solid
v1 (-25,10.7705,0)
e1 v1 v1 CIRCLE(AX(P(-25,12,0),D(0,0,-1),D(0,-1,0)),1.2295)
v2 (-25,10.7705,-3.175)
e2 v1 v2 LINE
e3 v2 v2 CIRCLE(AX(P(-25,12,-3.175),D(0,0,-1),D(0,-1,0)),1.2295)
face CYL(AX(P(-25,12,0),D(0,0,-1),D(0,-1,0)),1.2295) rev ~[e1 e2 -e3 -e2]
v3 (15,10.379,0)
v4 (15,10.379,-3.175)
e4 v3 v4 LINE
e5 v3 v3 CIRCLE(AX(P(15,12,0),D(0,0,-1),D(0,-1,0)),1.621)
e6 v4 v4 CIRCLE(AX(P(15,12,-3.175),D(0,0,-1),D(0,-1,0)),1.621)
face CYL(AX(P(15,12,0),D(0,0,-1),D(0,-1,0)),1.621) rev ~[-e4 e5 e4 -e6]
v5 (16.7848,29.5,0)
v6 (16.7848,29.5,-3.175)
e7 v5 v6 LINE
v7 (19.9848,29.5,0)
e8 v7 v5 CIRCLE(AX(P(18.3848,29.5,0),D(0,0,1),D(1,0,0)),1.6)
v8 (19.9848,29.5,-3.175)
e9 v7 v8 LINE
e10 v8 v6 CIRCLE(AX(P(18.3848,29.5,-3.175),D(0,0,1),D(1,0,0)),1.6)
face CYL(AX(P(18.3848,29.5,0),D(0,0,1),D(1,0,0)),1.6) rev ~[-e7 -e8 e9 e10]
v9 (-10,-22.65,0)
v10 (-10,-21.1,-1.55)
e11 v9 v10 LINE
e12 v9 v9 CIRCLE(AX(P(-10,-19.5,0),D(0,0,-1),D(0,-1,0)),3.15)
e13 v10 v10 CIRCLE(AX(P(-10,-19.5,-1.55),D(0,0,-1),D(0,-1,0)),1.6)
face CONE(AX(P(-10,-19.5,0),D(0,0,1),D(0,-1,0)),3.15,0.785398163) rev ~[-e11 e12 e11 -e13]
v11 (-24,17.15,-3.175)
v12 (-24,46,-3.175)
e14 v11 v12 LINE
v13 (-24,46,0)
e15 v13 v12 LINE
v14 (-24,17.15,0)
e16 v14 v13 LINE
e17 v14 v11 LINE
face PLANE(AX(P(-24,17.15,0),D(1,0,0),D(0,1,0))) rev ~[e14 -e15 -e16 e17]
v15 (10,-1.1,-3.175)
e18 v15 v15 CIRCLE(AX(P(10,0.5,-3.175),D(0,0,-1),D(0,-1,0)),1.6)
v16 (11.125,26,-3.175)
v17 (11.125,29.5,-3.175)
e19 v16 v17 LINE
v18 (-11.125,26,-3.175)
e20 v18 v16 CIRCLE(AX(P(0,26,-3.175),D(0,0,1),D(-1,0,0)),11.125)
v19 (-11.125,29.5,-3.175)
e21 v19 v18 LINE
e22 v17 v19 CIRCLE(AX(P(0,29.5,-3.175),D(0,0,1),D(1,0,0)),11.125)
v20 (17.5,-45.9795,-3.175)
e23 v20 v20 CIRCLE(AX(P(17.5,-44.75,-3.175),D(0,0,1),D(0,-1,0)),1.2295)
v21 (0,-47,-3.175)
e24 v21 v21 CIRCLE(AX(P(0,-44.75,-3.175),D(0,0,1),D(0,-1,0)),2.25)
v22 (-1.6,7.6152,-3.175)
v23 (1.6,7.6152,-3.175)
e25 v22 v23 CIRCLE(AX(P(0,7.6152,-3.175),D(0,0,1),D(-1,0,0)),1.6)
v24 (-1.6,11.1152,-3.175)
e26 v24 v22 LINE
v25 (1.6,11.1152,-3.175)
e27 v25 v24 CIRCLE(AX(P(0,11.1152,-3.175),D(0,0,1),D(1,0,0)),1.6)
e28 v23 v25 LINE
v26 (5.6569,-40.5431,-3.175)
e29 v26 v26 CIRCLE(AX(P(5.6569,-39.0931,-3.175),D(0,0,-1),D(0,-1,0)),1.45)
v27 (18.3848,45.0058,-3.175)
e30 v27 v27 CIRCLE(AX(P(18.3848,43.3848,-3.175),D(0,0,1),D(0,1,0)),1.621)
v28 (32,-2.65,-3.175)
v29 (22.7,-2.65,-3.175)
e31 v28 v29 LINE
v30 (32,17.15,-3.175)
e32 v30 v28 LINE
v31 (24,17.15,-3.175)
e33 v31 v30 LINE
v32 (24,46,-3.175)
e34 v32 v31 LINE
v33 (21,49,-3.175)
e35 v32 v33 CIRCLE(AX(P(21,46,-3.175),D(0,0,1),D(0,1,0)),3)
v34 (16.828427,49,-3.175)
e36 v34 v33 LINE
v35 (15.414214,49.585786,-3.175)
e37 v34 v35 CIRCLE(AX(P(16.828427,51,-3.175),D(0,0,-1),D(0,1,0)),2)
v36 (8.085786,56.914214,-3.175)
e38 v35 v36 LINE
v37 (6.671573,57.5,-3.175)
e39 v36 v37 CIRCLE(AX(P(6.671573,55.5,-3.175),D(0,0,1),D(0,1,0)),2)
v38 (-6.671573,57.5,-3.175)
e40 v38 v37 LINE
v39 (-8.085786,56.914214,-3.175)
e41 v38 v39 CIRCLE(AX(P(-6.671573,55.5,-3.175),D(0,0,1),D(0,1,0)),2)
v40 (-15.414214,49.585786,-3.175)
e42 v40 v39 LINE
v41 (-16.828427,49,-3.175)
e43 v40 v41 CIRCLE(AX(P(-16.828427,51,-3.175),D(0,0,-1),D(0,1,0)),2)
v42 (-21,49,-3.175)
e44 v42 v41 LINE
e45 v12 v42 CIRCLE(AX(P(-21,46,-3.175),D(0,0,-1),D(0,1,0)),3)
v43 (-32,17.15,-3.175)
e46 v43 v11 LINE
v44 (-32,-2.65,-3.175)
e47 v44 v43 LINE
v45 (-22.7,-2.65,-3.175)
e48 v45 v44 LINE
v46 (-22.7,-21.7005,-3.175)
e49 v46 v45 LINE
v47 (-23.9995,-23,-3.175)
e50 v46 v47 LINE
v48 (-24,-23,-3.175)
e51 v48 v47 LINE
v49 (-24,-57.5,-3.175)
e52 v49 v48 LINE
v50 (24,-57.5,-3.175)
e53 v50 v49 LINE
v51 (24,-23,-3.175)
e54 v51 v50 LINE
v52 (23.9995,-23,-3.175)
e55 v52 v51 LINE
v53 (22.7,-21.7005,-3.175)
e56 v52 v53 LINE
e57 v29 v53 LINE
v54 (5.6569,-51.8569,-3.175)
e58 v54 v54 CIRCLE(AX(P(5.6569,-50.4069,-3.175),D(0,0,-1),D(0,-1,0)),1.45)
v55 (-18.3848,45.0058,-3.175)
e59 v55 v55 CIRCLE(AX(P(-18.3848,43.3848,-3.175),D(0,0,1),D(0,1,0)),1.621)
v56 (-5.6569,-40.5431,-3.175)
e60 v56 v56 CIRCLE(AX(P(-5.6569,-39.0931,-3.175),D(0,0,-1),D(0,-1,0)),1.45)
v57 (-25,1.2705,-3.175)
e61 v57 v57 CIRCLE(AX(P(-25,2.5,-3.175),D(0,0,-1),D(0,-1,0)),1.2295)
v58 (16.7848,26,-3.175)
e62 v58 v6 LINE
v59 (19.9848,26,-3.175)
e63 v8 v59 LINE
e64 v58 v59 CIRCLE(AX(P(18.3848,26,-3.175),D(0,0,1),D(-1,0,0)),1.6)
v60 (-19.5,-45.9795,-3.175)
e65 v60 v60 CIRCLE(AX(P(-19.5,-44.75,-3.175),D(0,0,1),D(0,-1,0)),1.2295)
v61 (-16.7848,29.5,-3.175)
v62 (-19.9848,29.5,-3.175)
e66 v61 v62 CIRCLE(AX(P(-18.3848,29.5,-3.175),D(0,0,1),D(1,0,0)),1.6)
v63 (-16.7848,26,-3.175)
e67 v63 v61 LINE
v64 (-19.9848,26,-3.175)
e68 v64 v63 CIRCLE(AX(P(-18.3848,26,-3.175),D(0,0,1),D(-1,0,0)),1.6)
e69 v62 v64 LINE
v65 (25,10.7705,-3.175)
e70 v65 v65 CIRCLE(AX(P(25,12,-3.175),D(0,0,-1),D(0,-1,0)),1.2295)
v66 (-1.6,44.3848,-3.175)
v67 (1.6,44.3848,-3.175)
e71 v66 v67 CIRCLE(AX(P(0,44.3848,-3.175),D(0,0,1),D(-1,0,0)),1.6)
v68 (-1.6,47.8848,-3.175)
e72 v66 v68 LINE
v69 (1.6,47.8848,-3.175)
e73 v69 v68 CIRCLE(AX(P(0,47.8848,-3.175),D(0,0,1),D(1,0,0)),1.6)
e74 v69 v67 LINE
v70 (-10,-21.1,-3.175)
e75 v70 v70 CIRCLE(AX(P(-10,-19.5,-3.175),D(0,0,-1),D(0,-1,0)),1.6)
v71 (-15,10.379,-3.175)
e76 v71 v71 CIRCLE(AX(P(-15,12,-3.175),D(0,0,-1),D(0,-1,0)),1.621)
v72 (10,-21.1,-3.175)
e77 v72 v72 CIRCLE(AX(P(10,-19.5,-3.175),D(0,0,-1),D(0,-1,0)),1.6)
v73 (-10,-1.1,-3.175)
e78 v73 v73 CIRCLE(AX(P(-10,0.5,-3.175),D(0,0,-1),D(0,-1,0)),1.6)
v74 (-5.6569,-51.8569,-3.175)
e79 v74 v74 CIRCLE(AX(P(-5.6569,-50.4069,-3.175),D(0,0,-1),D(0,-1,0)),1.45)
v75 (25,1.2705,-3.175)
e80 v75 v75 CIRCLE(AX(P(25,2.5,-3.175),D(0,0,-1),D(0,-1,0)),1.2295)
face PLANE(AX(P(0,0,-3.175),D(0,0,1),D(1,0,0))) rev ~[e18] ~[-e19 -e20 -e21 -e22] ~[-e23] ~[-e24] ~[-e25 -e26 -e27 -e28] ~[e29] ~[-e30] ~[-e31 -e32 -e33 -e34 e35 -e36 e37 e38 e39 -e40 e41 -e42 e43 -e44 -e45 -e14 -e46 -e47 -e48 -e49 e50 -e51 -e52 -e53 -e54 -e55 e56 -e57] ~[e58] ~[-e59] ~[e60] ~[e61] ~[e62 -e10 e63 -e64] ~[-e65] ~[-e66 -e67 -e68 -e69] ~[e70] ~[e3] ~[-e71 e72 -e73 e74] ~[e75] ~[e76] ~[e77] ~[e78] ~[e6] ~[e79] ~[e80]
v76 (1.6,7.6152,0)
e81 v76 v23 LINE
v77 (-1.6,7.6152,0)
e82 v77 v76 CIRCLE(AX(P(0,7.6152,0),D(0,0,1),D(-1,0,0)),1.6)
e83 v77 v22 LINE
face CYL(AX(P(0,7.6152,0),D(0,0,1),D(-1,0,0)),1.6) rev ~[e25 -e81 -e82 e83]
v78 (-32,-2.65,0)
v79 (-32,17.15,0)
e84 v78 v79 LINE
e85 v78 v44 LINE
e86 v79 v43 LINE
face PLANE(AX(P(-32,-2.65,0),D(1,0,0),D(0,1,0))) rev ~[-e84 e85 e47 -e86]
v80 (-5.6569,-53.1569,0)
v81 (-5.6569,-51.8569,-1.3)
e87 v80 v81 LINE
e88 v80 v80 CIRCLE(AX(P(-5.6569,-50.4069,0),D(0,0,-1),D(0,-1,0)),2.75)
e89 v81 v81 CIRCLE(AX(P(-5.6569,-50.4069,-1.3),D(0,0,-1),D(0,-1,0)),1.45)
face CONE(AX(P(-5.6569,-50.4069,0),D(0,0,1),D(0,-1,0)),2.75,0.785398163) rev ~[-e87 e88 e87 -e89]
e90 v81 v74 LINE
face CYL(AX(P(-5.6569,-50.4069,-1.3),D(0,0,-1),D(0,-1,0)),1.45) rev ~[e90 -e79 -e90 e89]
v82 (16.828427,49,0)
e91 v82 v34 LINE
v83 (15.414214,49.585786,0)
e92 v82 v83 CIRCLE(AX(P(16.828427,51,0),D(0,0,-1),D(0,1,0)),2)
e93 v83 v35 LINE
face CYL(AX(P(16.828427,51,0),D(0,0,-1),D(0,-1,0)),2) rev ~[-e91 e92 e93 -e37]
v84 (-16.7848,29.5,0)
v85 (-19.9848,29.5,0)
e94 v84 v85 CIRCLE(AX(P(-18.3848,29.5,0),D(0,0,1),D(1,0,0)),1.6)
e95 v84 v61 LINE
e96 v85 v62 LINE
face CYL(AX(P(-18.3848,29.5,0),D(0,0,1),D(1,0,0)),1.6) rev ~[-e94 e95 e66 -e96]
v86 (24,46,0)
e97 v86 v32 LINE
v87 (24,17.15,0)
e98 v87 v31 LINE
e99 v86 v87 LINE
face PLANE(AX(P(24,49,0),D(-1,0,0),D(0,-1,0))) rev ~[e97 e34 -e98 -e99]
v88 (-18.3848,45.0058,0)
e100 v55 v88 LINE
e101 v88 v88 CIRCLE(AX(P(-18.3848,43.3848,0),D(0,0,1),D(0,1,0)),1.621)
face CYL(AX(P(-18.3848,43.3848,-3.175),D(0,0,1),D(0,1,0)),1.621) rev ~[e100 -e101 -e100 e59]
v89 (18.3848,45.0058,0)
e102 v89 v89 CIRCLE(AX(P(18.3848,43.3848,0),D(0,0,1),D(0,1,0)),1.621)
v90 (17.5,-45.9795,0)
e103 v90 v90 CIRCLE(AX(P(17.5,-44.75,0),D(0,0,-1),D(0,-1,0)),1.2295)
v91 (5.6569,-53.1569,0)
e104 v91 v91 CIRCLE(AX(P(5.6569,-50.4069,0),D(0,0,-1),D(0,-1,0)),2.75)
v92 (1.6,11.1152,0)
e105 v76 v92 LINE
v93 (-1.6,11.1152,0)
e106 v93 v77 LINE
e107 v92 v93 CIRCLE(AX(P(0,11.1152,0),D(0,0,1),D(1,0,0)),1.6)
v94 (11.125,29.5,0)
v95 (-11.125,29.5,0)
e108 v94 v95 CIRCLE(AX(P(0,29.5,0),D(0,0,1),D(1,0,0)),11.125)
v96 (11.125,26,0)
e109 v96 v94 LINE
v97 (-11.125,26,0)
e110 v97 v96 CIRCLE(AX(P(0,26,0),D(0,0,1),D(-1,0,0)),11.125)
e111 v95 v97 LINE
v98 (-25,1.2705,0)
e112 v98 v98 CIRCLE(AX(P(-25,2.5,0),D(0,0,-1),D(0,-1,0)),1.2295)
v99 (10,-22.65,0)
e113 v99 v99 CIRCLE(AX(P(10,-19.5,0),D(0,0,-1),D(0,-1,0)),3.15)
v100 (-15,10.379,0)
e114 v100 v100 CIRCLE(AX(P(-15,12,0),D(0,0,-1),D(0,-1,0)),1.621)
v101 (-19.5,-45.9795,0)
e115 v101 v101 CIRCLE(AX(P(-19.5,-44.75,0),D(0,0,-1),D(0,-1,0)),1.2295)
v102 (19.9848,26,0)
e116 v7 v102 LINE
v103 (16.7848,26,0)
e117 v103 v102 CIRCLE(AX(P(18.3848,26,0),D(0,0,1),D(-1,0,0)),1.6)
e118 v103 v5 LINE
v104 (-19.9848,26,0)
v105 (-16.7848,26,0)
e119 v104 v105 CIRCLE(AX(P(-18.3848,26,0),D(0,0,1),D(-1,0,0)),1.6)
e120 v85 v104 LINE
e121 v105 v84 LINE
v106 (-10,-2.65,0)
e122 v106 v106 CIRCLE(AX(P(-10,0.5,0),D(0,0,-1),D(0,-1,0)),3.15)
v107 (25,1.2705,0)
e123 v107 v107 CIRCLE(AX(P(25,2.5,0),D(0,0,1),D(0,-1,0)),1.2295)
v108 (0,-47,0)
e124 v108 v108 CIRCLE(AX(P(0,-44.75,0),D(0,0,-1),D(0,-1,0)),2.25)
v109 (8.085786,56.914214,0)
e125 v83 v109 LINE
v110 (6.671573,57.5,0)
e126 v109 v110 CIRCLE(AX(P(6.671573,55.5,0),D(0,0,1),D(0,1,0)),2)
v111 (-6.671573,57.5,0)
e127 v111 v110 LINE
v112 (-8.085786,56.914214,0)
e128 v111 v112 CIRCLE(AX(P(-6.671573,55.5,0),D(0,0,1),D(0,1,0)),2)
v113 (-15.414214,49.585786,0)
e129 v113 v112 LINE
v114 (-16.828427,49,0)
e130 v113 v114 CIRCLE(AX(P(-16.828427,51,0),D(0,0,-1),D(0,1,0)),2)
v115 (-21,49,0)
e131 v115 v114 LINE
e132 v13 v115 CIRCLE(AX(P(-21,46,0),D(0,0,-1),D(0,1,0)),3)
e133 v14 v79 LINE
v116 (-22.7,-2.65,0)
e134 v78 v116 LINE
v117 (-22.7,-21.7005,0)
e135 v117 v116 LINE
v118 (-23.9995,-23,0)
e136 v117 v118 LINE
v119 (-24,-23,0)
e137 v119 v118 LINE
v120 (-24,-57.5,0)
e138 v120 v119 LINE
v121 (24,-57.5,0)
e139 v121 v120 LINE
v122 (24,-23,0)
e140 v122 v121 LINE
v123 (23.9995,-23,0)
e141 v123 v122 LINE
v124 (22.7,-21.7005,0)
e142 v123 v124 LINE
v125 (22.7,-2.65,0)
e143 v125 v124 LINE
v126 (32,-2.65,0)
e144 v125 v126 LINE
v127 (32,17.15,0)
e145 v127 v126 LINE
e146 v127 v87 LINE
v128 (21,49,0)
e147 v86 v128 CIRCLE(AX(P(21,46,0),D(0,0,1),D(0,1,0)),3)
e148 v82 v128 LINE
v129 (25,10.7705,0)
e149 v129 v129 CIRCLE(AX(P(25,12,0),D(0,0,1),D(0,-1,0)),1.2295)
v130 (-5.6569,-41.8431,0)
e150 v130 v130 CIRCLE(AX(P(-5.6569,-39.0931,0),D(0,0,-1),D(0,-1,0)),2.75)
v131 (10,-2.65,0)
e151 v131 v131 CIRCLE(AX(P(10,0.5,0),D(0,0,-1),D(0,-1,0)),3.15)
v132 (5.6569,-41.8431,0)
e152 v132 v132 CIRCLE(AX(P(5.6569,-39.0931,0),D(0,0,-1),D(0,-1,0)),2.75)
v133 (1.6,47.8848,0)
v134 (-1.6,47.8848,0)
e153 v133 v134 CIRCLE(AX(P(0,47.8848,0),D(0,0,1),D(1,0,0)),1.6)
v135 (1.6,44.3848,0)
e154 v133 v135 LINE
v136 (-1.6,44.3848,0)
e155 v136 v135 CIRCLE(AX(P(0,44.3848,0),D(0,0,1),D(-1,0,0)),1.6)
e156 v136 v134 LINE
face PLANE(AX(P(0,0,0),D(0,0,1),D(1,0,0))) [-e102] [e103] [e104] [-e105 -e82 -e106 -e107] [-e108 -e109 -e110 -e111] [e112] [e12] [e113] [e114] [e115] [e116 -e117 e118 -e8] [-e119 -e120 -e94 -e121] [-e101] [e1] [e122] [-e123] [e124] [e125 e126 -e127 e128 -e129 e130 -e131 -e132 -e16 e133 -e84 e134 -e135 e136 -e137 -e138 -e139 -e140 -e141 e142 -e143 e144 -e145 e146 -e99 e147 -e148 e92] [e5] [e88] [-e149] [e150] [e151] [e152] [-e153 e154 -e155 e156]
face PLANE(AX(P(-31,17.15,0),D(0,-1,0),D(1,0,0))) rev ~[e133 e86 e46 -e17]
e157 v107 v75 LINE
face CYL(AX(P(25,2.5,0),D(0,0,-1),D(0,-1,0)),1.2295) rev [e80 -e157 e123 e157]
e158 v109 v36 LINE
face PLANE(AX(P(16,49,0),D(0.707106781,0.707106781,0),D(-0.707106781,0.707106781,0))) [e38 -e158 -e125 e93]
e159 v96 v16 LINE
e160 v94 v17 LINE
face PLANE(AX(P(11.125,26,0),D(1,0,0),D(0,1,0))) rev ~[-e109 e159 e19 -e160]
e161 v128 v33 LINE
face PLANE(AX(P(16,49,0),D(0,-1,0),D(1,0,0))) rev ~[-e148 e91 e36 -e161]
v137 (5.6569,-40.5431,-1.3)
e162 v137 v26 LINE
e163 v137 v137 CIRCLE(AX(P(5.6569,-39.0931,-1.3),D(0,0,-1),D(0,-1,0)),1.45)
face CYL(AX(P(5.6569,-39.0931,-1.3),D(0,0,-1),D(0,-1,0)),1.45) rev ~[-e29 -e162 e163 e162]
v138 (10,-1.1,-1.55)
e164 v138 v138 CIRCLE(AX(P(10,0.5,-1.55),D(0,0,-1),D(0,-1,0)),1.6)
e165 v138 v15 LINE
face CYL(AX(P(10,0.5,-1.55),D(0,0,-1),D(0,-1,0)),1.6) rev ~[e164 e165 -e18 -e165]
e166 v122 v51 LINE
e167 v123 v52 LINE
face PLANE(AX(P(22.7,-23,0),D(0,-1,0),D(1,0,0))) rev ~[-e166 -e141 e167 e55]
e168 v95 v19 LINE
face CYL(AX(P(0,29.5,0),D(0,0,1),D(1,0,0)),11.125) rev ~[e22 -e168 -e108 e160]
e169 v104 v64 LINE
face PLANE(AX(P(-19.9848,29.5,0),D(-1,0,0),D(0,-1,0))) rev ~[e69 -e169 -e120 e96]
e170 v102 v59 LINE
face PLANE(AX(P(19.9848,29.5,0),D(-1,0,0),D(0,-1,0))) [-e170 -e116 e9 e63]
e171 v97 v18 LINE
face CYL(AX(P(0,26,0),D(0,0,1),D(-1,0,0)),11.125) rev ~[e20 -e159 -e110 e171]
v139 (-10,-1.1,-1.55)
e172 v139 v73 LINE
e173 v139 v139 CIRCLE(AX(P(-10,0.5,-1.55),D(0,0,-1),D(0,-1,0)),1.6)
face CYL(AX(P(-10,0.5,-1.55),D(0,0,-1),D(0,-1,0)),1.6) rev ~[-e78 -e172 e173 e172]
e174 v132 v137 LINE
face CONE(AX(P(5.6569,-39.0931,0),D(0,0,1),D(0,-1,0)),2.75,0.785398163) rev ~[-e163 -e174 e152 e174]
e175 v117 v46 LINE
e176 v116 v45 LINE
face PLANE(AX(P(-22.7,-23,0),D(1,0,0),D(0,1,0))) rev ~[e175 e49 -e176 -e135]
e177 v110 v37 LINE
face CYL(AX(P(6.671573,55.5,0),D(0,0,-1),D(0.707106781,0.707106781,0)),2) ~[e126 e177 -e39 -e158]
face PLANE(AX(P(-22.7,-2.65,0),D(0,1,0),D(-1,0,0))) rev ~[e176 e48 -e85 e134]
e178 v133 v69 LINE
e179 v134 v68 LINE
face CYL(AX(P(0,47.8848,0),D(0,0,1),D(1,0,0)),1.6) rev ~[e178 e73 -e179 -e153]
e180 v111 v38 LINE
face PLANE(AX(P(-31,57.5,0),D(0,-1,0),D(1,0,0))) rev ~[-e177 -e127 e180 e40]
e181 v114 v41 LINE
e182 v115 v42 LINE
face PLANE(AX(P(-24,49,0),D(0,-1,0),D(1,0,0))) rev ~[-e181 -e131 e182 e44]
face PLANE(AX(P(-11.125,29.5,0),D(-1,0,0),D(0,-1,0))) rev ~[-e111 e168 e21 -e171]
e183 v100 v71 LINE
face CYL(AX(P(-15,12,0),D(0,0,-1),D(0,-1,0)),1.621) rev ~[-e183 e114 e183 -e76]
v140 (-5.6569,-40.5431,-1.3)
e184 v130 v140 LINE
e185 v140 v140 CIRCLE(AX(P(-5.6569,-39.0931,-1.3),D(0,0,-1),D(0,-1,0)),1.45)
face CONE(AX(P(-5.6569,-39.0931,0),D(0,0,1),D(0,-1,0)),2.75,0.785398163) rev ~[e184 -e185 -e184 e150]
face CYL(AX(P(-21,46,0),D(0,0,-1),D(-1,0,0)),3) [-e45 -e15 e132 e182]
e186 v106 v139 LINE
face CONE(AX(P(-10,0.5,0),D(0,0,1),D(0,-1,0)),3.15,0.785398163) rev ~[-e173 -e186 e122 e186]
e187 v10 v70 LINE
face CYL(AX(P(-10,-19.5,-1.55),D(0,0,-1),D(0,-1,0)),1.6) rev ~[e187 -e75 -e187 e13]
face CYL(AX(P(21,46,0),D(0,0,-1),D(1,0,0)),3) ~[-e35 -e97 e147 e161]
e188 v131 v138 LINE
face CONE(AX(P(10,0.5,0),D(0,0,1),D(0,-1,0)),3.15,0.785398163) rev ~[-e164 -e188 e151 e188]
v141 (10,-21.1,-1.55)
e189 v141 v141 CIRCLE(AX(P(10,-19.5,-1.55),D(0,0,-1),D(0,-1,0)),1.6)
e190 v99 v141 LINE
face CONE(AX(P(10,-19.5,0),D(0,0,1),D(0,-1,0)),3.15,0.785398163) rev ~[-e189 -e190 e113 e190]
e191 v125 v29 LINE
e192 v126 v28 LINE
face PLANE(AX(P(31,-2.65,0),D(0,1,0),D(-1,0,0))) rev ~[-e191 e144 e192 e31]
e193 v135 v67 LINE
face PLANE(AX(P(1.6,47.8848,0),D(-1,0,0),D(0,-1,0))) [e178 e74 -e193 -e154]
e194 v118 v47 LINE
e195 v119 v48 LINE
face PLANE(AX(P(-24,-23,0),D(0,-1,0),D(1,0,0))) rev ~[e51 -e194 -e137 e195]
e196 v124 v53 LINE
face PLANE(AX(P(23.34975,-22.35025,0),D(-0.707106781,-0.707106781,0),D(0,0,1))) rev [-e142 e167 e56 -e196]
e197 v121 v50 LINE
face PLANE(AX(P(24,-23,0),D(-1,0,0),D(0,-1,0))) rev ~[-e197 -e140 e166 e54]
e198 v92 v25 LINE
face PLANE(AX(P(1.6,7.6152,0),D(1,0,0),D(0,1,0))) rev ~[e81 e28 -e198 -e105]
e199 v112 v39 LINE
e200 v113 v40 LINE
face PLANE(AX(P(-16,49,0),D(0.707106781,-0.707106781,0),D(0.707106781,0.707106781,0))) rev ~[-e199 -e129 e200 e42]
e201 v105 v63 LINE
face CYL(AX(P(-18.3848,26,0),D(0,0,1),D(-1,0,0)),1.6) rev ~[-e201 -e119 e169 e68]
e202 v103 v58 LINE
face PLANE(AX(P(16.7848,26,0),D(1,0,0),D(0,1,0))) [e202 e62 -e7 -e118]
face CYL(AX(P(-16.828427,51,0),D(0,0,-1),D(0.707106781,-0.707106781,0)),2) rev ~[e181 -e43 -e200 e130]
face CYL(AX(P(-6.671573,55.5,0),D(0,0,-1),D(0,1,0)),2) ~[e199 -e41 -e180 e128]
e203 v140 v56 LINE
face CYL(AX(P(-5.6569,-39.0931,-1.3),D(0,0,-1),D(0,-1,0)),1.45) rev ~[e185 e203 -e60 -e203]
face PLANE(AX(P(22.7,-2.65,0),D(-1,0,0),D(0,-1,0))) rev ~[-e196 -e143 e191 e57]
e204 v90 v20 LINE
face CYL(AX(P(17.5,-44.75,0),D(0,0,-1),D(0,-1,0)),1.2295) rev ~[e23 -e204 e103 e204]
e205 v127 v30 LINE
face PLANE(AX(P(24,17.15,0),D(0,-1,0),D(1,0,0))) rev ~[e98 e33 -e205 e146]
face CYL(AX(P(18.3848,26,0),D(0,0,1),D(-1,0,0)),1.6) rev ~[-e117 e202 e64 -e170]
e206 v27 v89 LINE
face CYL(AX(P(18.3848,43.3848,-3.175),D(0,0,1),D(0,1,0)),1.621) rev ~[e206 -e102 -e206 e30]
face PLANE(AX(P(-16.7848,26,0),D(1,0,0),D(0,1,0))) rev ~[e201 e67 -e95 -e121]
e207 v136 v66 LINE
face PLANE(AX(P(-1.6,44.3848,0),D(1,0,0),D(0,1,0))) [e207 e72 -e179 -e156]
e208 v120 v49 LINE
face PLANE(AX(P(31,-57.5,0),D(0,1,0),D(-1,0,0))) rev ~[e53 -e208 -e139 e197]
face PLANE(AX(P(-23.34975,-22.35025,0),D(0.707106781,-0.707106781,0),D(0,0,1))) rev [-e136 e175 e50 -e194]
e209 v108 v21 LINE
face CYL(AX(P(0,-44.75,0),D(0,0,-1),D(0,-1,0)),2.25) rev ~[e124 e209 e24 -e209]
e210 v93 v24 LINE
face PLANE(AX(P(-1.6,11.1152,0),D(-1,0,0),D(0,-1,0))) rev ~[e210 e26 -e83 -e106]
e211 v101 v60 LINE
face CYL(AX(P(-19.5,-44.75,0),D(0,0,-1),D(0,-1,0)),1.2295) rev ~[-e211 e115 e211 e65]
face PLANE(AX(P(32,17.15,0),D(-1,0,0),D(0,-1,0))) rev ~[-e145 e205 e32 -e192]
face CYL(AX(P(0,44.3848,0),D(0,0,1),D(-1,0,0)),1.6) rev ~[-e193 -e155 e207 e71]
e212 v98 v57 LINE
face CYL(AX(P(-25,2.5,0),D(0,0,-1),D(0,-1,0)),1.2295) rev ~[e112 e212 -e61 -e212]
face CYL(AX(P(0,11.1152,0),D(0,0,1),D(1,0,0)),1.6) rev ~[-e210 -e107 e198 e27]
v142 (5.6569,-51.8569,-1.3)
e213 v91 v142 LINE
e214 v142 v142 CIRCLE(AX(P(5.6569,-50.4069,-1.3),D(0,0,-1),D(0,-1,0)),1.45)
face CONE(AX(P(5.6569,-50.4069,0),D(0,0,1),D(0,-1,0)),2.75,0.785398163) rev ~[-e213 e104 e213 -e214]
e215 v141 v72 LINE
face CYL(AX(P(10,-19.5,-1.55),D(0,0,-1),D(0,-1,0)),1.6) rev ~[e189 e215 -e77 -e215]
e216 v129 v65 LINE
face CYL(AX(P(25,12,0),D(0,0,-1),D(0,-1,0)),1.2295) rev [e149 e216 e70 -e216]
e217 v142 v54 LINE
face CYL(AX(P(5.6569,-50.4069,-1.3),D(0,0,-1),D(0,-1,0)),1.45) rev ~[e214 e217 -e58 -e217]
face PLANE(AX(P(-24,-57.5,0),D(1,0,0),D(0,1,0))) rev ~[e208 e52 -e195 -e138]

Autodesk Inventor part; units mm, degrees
ref_plane "YZ Plane" through (0, 0, 0) normal (1, 0, 0) x (0, 1, 0)
ref_plane "XZ Plane" through (0, 0, 0) normal (0, 1, 0) x (-1, 0, 0)
ref_plane "XY Plane" through (0, 0, 0) normal (0, 0, 1) x (1, 0, 0)
sketch "Sketch1" plane through (0, 0, 0) normal (0, 0, 1) x (1, 0, 0)
  line L0 (31, -57.5) -> (-31, -57.5)
  line L1 (-31, -57.5) -> (-31, 57.5)
  line L2 (-31, 57.5) -> (31, 57.5)
  line L3 (31, 57.5) -> (31, -57.5)
  line L4 (31, -57.5) -> (-31, 57.5) construction
  line L5 (-31, -57.5) -> (31, 57.5) construction
  line L6 (-93.6831, -20.5) -> (93.6831, -20.5) construction
  line L7 (93.6831, -20.5) -> (93.6831, 1.5) construction
  line L8 (93.6831, 1.5) -> (-93.6831, 1.5) construction
  line L9 (-93.6831, 1.5) -> (-93.6831, -20.5) construction
  line L10 (-93.6831, -20.5) -> (93.6831, 1.5) construction
  line L11 (93.6831, -20.5) -> (-93.6831, 1.5) construction
  line L12 (22.7, -23) -> (-22.7, -23)
  line L13 (-22.7, -23) -> (-22.7, 4)
  line L14 (-22.7, 4) -> (22.7, 4)
  line L15 (22.7, 4) -> (22.7, -23)
  line L16 (22.7, -23) -> (-22.7, 4) construction
  line L17 (-22.7, -23) -> (22.7, 4) construction
  line L18 (-19.5, -44.75) -> (17.5, -44.75)
  circle A0 centre (0, -44.75) radius 8 construction
  line L19 (5.6569, -39.0931) -> (-5.6569, -39.0931) construction
  line L20 (-5.6569, -39.0931) -> (-5.6569, -50.4069) construction
  line L21 (-5.6569, -50.4069) -> (5.6569, -50.4069) construction
  line L22 (5.6569, -50.4069) -> (5.6569, -39.0931) construction
  line L23 (5.6569, -39.0931) -> (-5.6569, -50.4069) construction
  line L24 (-5.6569, -39.0931) -> (5.6569, -50.4069) construction
  line L25 (10, 0.5) -> (-10, 0.5)
  line L26 (-10, 0.5) -> (-10, -19.5)
  line L27 (-10, -19.5) -> (10, -19.5)
  line L28 (10, -19.5) -> (10, 0.5)
  line L29 (10, 0.5) -> (-10, -19.5) construction
  line L30 (-10, 0.5) -> (10, -19.5) construction
  point P0 (0, 0)
  point P1 (0, -9.5)
  point P2 (0, 0)
  point P3 (0, -9.5)
  point P4 (0, 0)
  dimension "d25" = 16
  dimension "d0" = 62
  dimension "d1" = 22
  dimension "d2" = 27
  dimension "d3" = 45.4
  dimension "d5" = 115
  dimension "d8" = 37
  dimension "d9" = 19.5
  dimension "d10" = 12.75
  dimension "d47" = 48
  dimension "d75" = 20
  dimension "d76" = 20
extrude "Extrusion1" add sketch "Sketch1" against normal blind 3.175 contours L0 L1 L2 L3 | L12 L13 L14 L15 | L28 L27 L26 L25
hole "Hole1" at (-19.5, -44.75, 0) at (17.5, -44.75, 0) direction (0, 0, -1) diameter 2.459 end through all thread size "M3x0.5" class "6H" standard "ANSI Metric M Profile"
hole "Hole2" at (0, -44.75, 0) direction (0, 0, -1) diameter 4.5 end through all
hole "Hole3" at (-5.6569, -50.4069, 0) at (5.6569, -50.4069, 0) at (-5.6569, -39.0931, 0) at (5.6569, -39.0931, 0) direction (0, 0, -1) diameter 2.9 end through all countersink diameter 5.5 countersink angle 90 clearance for "Flat Head Machine Screw" size "M2.5" standard "Ansi Metric M Profile"
sketch "Sketch2" plane through (0, 0, 0) normal (0, 0, 1) x (1, 0, 0)
  line L0 (21.9203, 28.8) -> (0, 6.8797) construction
  line L1 (0, 6.8797) -> (-21.9203, 28.8) construction
  line L2 (-21.9203, 28.8) -> (0, 50.7203) construction
  line L3 (0, 50.7203) -> (21.9203, 28.8) construction
  line L4 (21.9203, 28.8) -> (-21.9203, 28.8) construction
  line L5 (0, 6.8797) -> (0, 50.7203) construction
  line L6 (0, 28.8) -> (0, 31.8) construction
  line L7 (11.25, 28.8) -> (11.25, 31.8)
  line L8 (-11.25, 31.8) -> (-11.25, 28.8)
  arc A0 (-11.25, 28.8) -> (11.25, 28.8) centre (0, 28.8) ccw
  arc A1 (11.25, 31.8) -> (-11.25, 31.8) centre (0, 31.8) ccw
  line L9 (-21.9203, 28.8) -> (-21.9203, 31.8) construction
  line L10 (-20.2203, 28.8) -> (-20.2203, 31.8)
  line L11 (-23.6203, 31.8) -> (-23.6203, 28.8)
  arc A2 (-23.6203, 28.8) -> (-20.2203, 28.8) centre (-21.9203, 28.8) ccw
  arc A3 (-20.2203, 31.8) -> (-23.6203, 31.8) centre (-21.9203, 31.8) ccw
  line L12 (0, 6.8797) -> (0, 9.8797) construction
  line L13 (1.7, 6.8797) -> (1.7, 9.8797)
  line L14 (-1.7, 9.8797) -> (-1.7, 6.8797)
  arc A4 (-1.7, 6.8797) -> (1.7, 6.8797) centre (0, 6.8797) ccw
  arc A5 (1.7, 9.8797) -> (-1.7, 9.8797) centre (0, 9.8797) ccw
  line L15 (0, 50.7203) -> (0, 53.7203) construction
  line L16 (-1.7, 50.7203) -> (-1.7, 53.7203)
  line L17 (1.7, 53.7203) -> (1.7, 50.7203)
  arc A6 (-1.7, 50.7203) -> (1.7, 50.7203) centre (0, 50.7203) ccw
  arc A7 (1.7, 53.7203) -> (-1.7, 53.7203) centre (0, 53.7203) ccw
  circle A8 centre (-20, 13.3) radius 6.5 construction
  circle A9 centre (0, 6.8797) radius 3.5 construction
  circle A10 centre (20, 13.3) radius 6.5 construction
  line L18 (-20, 13.3) -> (20, 13.3) construction
  circle A11 centre (0, 30.3) radius 6.11 construction
  circle A12 centre (0, 30.3) radius 6.74 construction
  line L19 (-37.8272, 6.8) -> (-20, 6.8) construction
  line L20 (-13.8669, 11.147) -> (-6.3595, 32.5325) construction
  line L21 (6.3595, 32.5325) -> (13.8669, 11.147) construction
  line L22 (20, 6.8) -> (34.7774, 6.8) construction
  line L23 (21.9203, 28.8) -> (21.9203, 31.8) construction
  line L24 (23.6203, 28.8) -> (23.6203, 31.8)
  line L25 (20.2203, 31.8) -> (20.2203, 28.8)
  arc A13 (20.2203, 28.8) -> (23.6203, 28.8) centre (21.9203, 28.8) ccw
  arc A14 (23.6203, 31.8) -> (20.2203, 31.8) centre (21.9203, 31.8) ccw
  line L26 (29.6985, 28.8) -> (0, -0.8985) construction
  line L27 (0, -0.8985) -> (-29.6985, 28.8) construction
  line L28 (-29.6985, 28.8) -> (0, 58.4985) construction
  line L29 (0, 58.4985) -> (29.6985, 28.8) construction
  line L30 (29.6985, 28.8) -> (-29.6985, 28.8) construction
  line L31 (0, -0.8985) -> (0, 58.4985) construction
  circle A15 centre (-20, 13.3) radius 4 construction
  line L32 (93.6831, 1.5) -> (-93.6831, 1.5) construction
  point P0 (0, 0)
  point P1 (0, 28.8)
  point P2 (-21.9203, 30.3)
  point P3 (0, 8.3797)
  point P4 (0, 52.2203)
  point P5 (0, 13.3)
  point P6 (21.9203, 30.3)
  point P7 (0, -9.5)
  dimension "d33" = 31
  dimension "d34" = 31
  dimension "d35" = 22.5
  dimension "d36" = 1.7
  dimension "d37" = 3
  dimension "d38" = 13
  dimension "d39" = 7
  dimension "d40" = 12.22
  dimension "d41" = 0.63
  dimension "d42" = 42
  dimension "d43" = 8
  dimension "d45" = 40
  dimension "d52" = 17
  dimension "d86" = 5.3
extrude "Extrusion2" [suppressed]
sketch "Sketch3" plane through (0, 0, 0) normal (0, 0, 1) x (1, 0, 0)
  line L0 (0, 50.8902) -> (24.8902, 26) construction
  line L1 (24.8902, 26) -> (0, 1.1098) construction
  line L2 (0, 1.1098) -> (-24.8902, 26) construction
  line L3 (-24.8902, 26) -> (0, 50.8902) construction
  line L4 (0, 50.8902) -> (0, 1.1098) construction
  line L5 (24.8902, 26) -> (-24.8902, 26) construction
  line L6 (0, 7.6152) -> (18.3848, 26) construction
  line L7 (18.3848, 26) -> (0, 44.3848) construction
  line L8 (0, 44.3848) -> (-18.3848, 26) construction
  line L9 (-18.3848, 26) -> (0, 7.6152) construction
  line L10 (0, 7.6152) -> (0, 44.3848) construction
  line L11 (18.3848, 26) -> (-18.3848, 26) construction
  line L12 (-18.3848, 26) -> (-18.3848, 29.5) construction
  line L13 (-16.7848, 26) -> (-16.7848, 29.5)
  line L14 (-19.9848, 29.5) -> (-19.9848, 26)
  arc A0 (-19.9848, 26) -> (-16.7848, 26) centre (-18.3848, 26) ccw
  arc A1 (-16.7848, 29.5) -> (-19.9848, 29.5) centre (-18.3848, 29.5) ccw
  line L15 (0, 44.3848) -> (0, 47.8848) construction
  line L16 (-1.6, 44.3848) -> (-1.6, 47.8848)
  line L17 (1.6, 47.8848) -> (1.6, 44.3848)
  arc A2 (-1.6, 44.3848) -> (1.6, 44.3848) centre (0, 44.3848) ccw
  arc A3 (1.6, 47.8848) -> (-1.6, 47.8848) centre (0, 47.8848) ccw
  line L18 (18.3848, 26) -> (18.3848, 29.5) construction
  line L19 (16.7848, 26) -> (16.7848, 29.5)
  line L20 (19.9848, 29.5) -> (19.9848, 26)
  arc A4 (16.7848, 26) -> (19.9848, 26) centre (18.3848, 26) ccw
  arc A5 (19.9848, 29.5) -> (16.7848, 29.5) centre (18.3848, 29.5) ccw
  line L21 (0, 7.6152) -> (0, 11.1152) construction
  line L22 (1.6, 7.6152) -> (1.6, 11.1152)
  line L23 (-1.6, 11.1152) -> (-1.6, 7.6152)
  arc A6 (-1.6, 7.6152) -> (1.6, 7.6152) centre (0, 7.6152) ccw
  arc A7 (1.6, 11.1152) -> (-1.6, 11.1152) centre (0, 11.1152) ccw
  line L24 (0, 26) -> (0, 29.5) construction
  line L25 (11.125, 26) -> (11.125, 29.5)
  line L26 (-11.125, 29.5) -> (-11.125, 26)
  arc A8 (-11.125, 26) -> (11.125, 26) centre (0, 26) ccw
  arc A9 (11.125, 29.5) -> (-11.125, 29.5) centre (0, 29.5) ccw
  circle A10 centre (0, 7.6152) radius 3.5 construction
  circle A11 centre (-15, 12) radius 6.5 construction
  circle A12 centre (15, 12) radius 6.5 construction
  line L27 (-15, 12) -> (15, 12) construction
  line L28 (93.6831, 1.5) -> (-93.6831, 1.5) construction
  circle A13 centre (0, 26) radius 6.11 construction
  circle A14 centre (0, 26) radius 6.74 construction
  line L29 (-8.5456, 11.2317) -> (-6.6927, 26.7967) construction
  line L30 (6.6927, 26.7967) -> (8.5456, 11.2317) construction
  line L31 (15, 5.5) -> (52.2336, 5.5) construction
  line L32 (-15, 5.5) -> (-44.4503, 5.5) construction
  circle A15 centre (-15, 12) radius 2 construction
  point P0 (0, 0)
  point P1 (-18.3848, 27.75)
  point P2 (0, 46.1348)
  point P3 (18.3848, 27.75)
  point P4 (0, 9.3652)
  point P5 (0, 27.75)
  point P6 (0, 12)
  dimension "d92" = 2.9
  dimension "d53" = 35.2
  dimension "d54" = 26
  dimension "d55" = 22.25
  dimension "d56" = 3.5
  dimension "d57" = 1.6
  dimension "d58" = 7
  dimension "d59" = 13
  dimension "d60" = 4
  dimension "d61" = 30
  dimension "d62" = 12.22
  dimension "d63" = 0.63
  dimension "d64" = 14
  dimension "d65" = 4
extrude "Extrusion3" cut sketch "Sketch3" against normal through all
hole "Hole4" at (-15, 12, 0) at (15, 12, 0) direction (0, 0, -1) diameter 3.242 end through all thread size "M4x0.7" class "6H" standard "ANSI Metric M Profile"
hole "Hole5" at (-10, -19.5, 0) at (-10, 0.5, 0) at (10, 0.5, 0) at (10, -19.5, 0) direction (0, 0, -1) diameter 3.2 end through all countersink diameter 6.3 countersink angle 90 clearance for "Flat Head Machine Screw" size "M3" standard "Ansi Metric M Profile"
ref_plane "Work Plane1" through (0, 0, -16.175) normal (0, 0, -1) x (-1, 0, 0)
ref_plane "Work Plane3" through (0, 0, -19.35) normal (0, 0, -1) x (-1, 0, 0)
ref_plane "Work Plane2" through (0, 0, -22.525) normal (0, 0, -1) x (-1, 0, 0)
sketch "Sketch4" plane through (0, 0, 0) normal (0, 0, 1) x (1, 0, 0)
  line L0 (-32, -2.65) -> (-22, -2.65)
  line L1 (-22, -2.65) -> (-22, 17.15)
  line L2 (-22, 17.15) -> (-32, 17.15)
  line L3 (-32, 17.15) -> (-32, -2.65)
  line L4 (-32, -2.65) -> (-22, 17.15) construction
  line L5 (-22, -2.65) -> (-32, 17.15) construction
  line L6 (-25, 12) -> (-25, 2.5) construction
  line L7 (-33.3, 34.9336) -> (-33.3, 2.4545) construction
  line L8 (-34.9, 35.6059) -> (-34.9, 1.9795) construction
  line L9 (-27.3543, -4.45) -> (-52.5717, -4.45) construction
  line L10 (93.6831, -15.5) -> (-93.6831, -15.5) construction
  line L11 (-93.6831, -15.5) -> (-93.6831, -3.5) construction
  line L12 (-93.6831, -3.5) -> (93.6831, -3.5) construction
  line L13 (93.6831, -3.5) -> (93.6831, -15.5) construction
  line L14 (93.6831, -15.5) -> (-93.6831, -3.5) construction
  line L15 (-93.6831, -15.5) -> (93.6831, -3.5) construction
  line L16 (-93.6831, 1.5) -> (-93.6831, -20.5) construction
  circle A0 centre (-25, 2.5) radius 1.7 construction
  circle A1 centre (-15, 12) radius 1.621 construction
  line L17 (-31, 57.5) -> (-31, -57.5) construction
  point P0 (0, 0)
  point P1 (-27, 7.25)
  point P2 (-25, 7.25)
  point P3 (-27, 7.25)
  point P4 (0, -9.5)
  point P5 (-27, 7.25)
  dimension "d87" = 10
  dimension "d88" = 19.8
  dimension "d89" = 9.5
  dimension "d90" = 7
  dimension "d91" = 1.3
  dimension "d92" = 2.9
  dimension "d93" = 1.8
  dimension "d94" = 12
  dimension "d95" = 3.4
  dimension "d103" = 16.75
  dimension "d104" = 1
hole "Hole6" at (-25, 12, 0) at (-25, 2.5, 0) direction (0, 0, -1) diameter 2.459 end through all thread size "M3x0.5" class "6H" standard "ANSI Metric M Profile"
mirror "Mirror1" about plane through (0, 0, 0) normal (1, 0, 0) of "Hole6"
sketch "Sketch5" plane through (0, 0, 0) normal (0, 0, 1) x (1, 0, 0)
  line L0 (22.7, 4) -> (22.7, -23) projected
  line L1 (-22.7, -23) -> (-22.7, 4) projected
  line L2 (-31, -57.5) -> (31, -57.5) projected
  line L3 (-22.7, -2.65) -> (-32, -2.65)
  line L4 (-32, -2.65) -> (-32, 17.15)
  line L5 (-31, -57.5) -> (-31, 57.5) projected
  line L6 (-32, 17.15) -> (-24, 17.15)
  line L7 (-24, 17.15) -> (-24, 49)
  line L8 (-24, 49) -> (24, 49)
  line L9 (24, 49) -> (24, 17.15)
  line L10 (24, 17.15) -> (32, 17.15)
  line L11 (32, 17.15) -> (32, -2.65)
  line L12 (32, -2.65) -> (22.7, -2.65)
  line L13 (-32, -2.65) -> (-22, -2.65) projected
  line L14 (-32, 17.15) -> (-32, -2.65) projected
  line L15 (-32, 7.25) -> (32, 7.25) construction
  circle A0 centre (25, 12) radius 1.2295 projected
  circle A1 centre (25, 2.5) radius 1.2295 projected
  circle A2 centre (-25, 12) radius 1.2295 projected
  circle A3 centre (-25, 2.5) radius 1.2295 projected
  circle A4 centre (10, 0.5) radius 3.15 projected
  circle A5 centre (-10, -19.5) radius 3.15 projected
  circle A6 centre (-10, 0.5) radius 3.15 projected
  circle A7 centre (10, -19.5) radius 3.15 projected
  circle A8 centre (-15, 12) radius 1.621 projected
  circle A9 centre (15, 12) radius 1.621 projected
  arc A10 (-1.6, 44.3848) -> (1.6, 44.3848) centre (0, 44.3848) ccw projected
  line L16 (-1.6, 44.3848) -> (-1.6, 47.8848) projected
  arc A11 (1.6, 47.8848) -> (-1.6, 47.8848) centre (0, 47.8848) ccw projected
  line L17 (1.6, 47.8848) -> (1.6, 44.3848) projected
  line L18 (19.9848, 29.5) -> (19.9848, 26) projected
  arc A12 (16.7848, 26) -> (19.9848, 26) centre (18.3848, 26) ccw projected
  line L19 (16.7848, 26) -> (16.7848, 29.5) projected
  arc A13 (19.9848, 29.5) -> (16.7848, 29.5) centre (18.3848, 29.5) ccw projected
  line L20 (-16.7848, 29.5) -> (-16.7848, 26) projected
  arc A14 (-19.9848, 26) -> (-16.7848, 26) centre (-18.3848, 26) ccw projected
  line L21 (-19.9848, 26) -> (-19.9848, 29.5) projected
  arc A15 (-16.7848, 29.5) -> (-19.9848, 29.5) centre (-18.3848, 29.5) ccw projected
  arc A16 (1.6, 11.1152) -> (-1.6, 11.1152) centre (0, 11.1152) ccw projected
  line L22 (1.6, 11.1152) -> (1.6, 7.6152) projected
  arc A17 (-1.6, 7.6152) -> (1.6, 7.6152) centre (0, 7.6152) ccw projected
  line L23 (-1.6, 7.6152) -> (-1.6, 11.1152) projected
  arc A18 (11.125, 29.5) -> (-11.125, 29.5) centre (0, 29.5) ccw projected
  line L24 (11.125, 29.5) -> (11.125, 26) projected
  arc A19 (-11.125, 26) -> (11.125, 26) centre (0, 26) ccw projected
  line L25 (-11.125, 26) -> (-11.125, 29.5) projected
  circle A20 centre (-5.6569, -39.0931) radius 2.75 projected
  circle A21 centre (-5.6569, -50.4069) radius 2.75 projected
  circle A22 centre (5.6569, -50.4069) radius 2.75 projected
  circle A23 centre (5.6569, -39.0931) radius 2.75 projected
  circle A24 centre (0, -44.75) radius 2.25 projected
  circle A25 centre (-19.5, -44.75) radius 1.2295 projected
  circle A26 centre (17.5, -44.75) radius 1.2295 projected
  line L26 (31, 57.5) -> (-31, 57.5) projected
  line L27 (-31, 57.5) -> (-31, -57.5) projected
  line L28 (-31, -57.5) -> (31, -57.5) projected
  line L29 (31, -57.5) -> (31, 57.5) projected
  line L30 (16, 49) -> (7.5, 57.5)
  line L31 (-16, 49) -> (-7.5, 57.5)
  line L32 (-7.5, 57.5) -> (7.5, 57.5)
  line L33 (-31, 57.5) -> (31, 57.5) projected
  line L34 (24, -57.5) -> (-24, -57.5)
  line L35 (-24, -57.5) -> (-24, -23)
  line L36 (-24, -23) -> (24, -23)
  line L37 (24, -23) -> (24, -57.5)
  line L38 (24, -57.5) -> (-24, -23) construction
  line L39 (-24, -57.5) -> (24, -23) construction
  line L40 (22.7, -23) -> (-22.7, -23) projected
  point P0 (0, 0)
  point P1 (-19.5, -57.5)
  point P2 (22.7, -19)
  point P3 (-22.7, -19)
  point P4 (0, 49)
  point P5 (0, 7.25)
  point P6 (31, 17.15)
  point P7 (-31, 17.15)
  point P8 (-31, -2.65)
  point P9 (31, -2.65)
  point P10 (0, 57.5)
  point P11 (0, -40.25)
  point P12 (0, -23)
  point P13 (0, -9.5)
  point P14 (22.7, -23)
  point P15 (-22.7, -23)
  dimension "d107" = 48
  dimension "d110" = 135
  dimension "d111" = 135
  dimension "d112" = 15
  dimension "d130" = 48
  dimension "d131" = 37
extrude "Extrusion4" cut sketch "Sketch5" against normal through all contours L12 L29 L2 L37 L36 L0 | L36 L35 L2 L5 L3 L1 | L10 L9 L8 L30 L26 L29 | L5 L26 L31 L8 L7 L6 | A24 | A25 | A26
extrude "Extrusion5" add sketch "Sketch5" against normal up to surface (3.175 mm away) contours L29 L10 L11 L12 | L3 L4 L6 L5
chamfer "Chamfer1" distance 1.3 angle 45 2 edges at (22.7, -23, -1.5875) (-22.7, -23, -1.5875)
fillet "Fillet1" radius 3 2 edges at (-24, 49, -1.5875) (24, 49, -1.5875)
fillet "Fillet2" radius 2 4 edges at (-16, 49, -1.5875) (-7.5, 57.5, -1.5875) (7.5, 57.5, -1.5875) (16, 49, -1.5875)
sketch "Sketch6" plane through (0, 0, -3.175) normal (0, 0, -1) x (-1, 0, 0)
  line L0 (11.125, 29.5) -> (11.125, 26) projected
  arc A0 (-11.125, 26) -> (11.125, 26) centre (0, 26) ccw projected
  line L1 (-11.125, 26) -> (-11.125, 29.5) projected
  arc A1 (11.125, 29.5) -> (-11.125, 29.5) centre (0, 29.5) ccw projected
  line L2 (1.6, 11.1152) -> (1.6, 7.6152) projected
  arc A2 (-1.6, 7.6152) -> (1.6, 7.6152) centre (0, 7.6152) ccw projected
  line L3 (-1.6, 7.6152) -> (-1.6, 11.1152) projected
  arc A3 (1.6, 11.1152) -> (-1.6, 11.1152) centre (0, 11.1152) ccw projected
  arc A4 (16.7848, 26) -> (19.9848, 26) centre (18.3848, 26) ccw projected
  line L4 (16.7848, 26) -> (16.7848, 29.5) projected
  arc A5 (19.9848, 29.5) -> (16.7848, 29.5) centre (18.3848, 29.5) ccw projected
  line L5 (19.9848, 29.5) -> (19.9848, 26) projected
  arc A6 (-19.9848, 26) -> (-16.7848, 26) centre (-18.3848, 26) ccw projected
  line L6 (-19.9848, 26) -> (-19.9848, 29.5) projected
  arc A7 (-16.7848, 29.5) -> (-19.9848, 29.5) centre (-18.3848, 29.5) ccw projected
  line L7 (-16.7848, 29.5) -> (-16.7848, 26) projected
  line L8 (-1.6, 44.3848) -> (-1.6, 47.8848) projected
  arc A8 (1.6, 47.8848) -> (-1.6, 47.8848) centre (0, 47.8848) ccw projected
  line L9 (1.6, 47.8848) -> (1.6, 44.3848) projected
  arc A9 (-1.6, 44.3848) -> (1.6, 44.3848) centre (0, 44.3848) ccw projected
  circle A10 centre (-15, 12) radius 1.621 projected
  circle A11 centre (15, 12) radius 1.621 projected
  circle A12 centre (-10, -19.5) radius 1.6 projected
  circle A13 centre (10, 0.5) radius 1.6 projected
  circle A14 centre (10, -19.5) radius 1.6 projected
  circle A15 centre (-10, 0.5) radius 1.6 projected
  circle A16 centre (25, 2.5) radius 1.2295 projected
  circle A17 centre (25, 12) radius 1.2295 projected
  circle A18 centre (-25, 2.5) radius 1.2295 projected
  circle A19 centre (-25, 12) radius 1.2295 projected
  arc A20 (-6.6716, 57.5) -> (-8.0858, 56.9142) centre (-6.6716, 55.5) ccw projected
  line L10 (-8.0858, 56.9142) -> (-15.4142, 49.5858) projected
  arc A21 (-16.8284, 49) -> (-15.4142, 49.5858) centre (-16.8284, 51) ccw projected
  line L11 (-16.8284, 49) -> (-21, 49) projected
  arc A22 (-21, 49) -> (-24, 46) centre (-21, 46) ccw projected
  line L12 (-24, 46) -> (-24, 17.15) projected
  line L13 (-32, 17.15) -> (-24, 17.15) projected
  line L14 (-32, -2.65) -> (-32, 17.15) projected
  line L15 (-32, -2.65) -> (-22.7, -2.65) projected
  line L16 (-22.7, -2.65) -> (-22.7, -21.7) projected
  line L17 (22.7, -21.7) -> (22.7, -2.65) projected
  line L18 (32, -2.65) -> (22.7, -2.65) projected
  line L19 (32, 17.15) -> (32, -2.65) projected
  line L20 (32, 17.15) -> (24, 17.15) projected
  line L21 (24, 17.15) -> (24, 46) projected
  arc A23 (24, 46) -> (21, 49) centre (21, 46) ccw projected
  line L22 (21, 49) -> (16.8284, 49) projected
  arc A24 (15.4142, 49.5858) -> (16.8284, 49) centre (16.8284, 51) ccw projected
  line L23 (15.4142, 49.5858) -> (8.0858, 56.9142) projected
  arc A25 (8.0858, 56.9142) -> (6.6716, 57.5) centre (6.6716, 55.5) ccw projected
  line L24 (6.6716, 57.5) -> (-6.6716, 57.5) projected
  line L25 (-18.3848, 43.3848) -> (18.3848, 43.3848) construction
  line L26 (-24, -23) -> (-24, -57.5) projected
  line L27 (-24, -57.5) -> (24, -57.5) projected
  line L28 (24, -57.5) -> (24, -23) projected
  line L29 (-24, -23) -> (-22.7, -21.7) projected
  line L30 (22.7, -21.7) -> (24, -23) projected
  point P0 (0, 0)
  dimension "d120" = 5.6152
  dimension "d121" = 5.6152
hole "Hole7" at (18.3848, 43.3848, -3.175) at (-18.3848, 43.3848, -3.175) direction (0, 0, 1) diameter 3.242 end through all thread size "M4x0.7" class "6H" standard "ANSI Metric M Profile"
properties part number "Printhead Base Plate REVI" material "Aluminum 6061"
